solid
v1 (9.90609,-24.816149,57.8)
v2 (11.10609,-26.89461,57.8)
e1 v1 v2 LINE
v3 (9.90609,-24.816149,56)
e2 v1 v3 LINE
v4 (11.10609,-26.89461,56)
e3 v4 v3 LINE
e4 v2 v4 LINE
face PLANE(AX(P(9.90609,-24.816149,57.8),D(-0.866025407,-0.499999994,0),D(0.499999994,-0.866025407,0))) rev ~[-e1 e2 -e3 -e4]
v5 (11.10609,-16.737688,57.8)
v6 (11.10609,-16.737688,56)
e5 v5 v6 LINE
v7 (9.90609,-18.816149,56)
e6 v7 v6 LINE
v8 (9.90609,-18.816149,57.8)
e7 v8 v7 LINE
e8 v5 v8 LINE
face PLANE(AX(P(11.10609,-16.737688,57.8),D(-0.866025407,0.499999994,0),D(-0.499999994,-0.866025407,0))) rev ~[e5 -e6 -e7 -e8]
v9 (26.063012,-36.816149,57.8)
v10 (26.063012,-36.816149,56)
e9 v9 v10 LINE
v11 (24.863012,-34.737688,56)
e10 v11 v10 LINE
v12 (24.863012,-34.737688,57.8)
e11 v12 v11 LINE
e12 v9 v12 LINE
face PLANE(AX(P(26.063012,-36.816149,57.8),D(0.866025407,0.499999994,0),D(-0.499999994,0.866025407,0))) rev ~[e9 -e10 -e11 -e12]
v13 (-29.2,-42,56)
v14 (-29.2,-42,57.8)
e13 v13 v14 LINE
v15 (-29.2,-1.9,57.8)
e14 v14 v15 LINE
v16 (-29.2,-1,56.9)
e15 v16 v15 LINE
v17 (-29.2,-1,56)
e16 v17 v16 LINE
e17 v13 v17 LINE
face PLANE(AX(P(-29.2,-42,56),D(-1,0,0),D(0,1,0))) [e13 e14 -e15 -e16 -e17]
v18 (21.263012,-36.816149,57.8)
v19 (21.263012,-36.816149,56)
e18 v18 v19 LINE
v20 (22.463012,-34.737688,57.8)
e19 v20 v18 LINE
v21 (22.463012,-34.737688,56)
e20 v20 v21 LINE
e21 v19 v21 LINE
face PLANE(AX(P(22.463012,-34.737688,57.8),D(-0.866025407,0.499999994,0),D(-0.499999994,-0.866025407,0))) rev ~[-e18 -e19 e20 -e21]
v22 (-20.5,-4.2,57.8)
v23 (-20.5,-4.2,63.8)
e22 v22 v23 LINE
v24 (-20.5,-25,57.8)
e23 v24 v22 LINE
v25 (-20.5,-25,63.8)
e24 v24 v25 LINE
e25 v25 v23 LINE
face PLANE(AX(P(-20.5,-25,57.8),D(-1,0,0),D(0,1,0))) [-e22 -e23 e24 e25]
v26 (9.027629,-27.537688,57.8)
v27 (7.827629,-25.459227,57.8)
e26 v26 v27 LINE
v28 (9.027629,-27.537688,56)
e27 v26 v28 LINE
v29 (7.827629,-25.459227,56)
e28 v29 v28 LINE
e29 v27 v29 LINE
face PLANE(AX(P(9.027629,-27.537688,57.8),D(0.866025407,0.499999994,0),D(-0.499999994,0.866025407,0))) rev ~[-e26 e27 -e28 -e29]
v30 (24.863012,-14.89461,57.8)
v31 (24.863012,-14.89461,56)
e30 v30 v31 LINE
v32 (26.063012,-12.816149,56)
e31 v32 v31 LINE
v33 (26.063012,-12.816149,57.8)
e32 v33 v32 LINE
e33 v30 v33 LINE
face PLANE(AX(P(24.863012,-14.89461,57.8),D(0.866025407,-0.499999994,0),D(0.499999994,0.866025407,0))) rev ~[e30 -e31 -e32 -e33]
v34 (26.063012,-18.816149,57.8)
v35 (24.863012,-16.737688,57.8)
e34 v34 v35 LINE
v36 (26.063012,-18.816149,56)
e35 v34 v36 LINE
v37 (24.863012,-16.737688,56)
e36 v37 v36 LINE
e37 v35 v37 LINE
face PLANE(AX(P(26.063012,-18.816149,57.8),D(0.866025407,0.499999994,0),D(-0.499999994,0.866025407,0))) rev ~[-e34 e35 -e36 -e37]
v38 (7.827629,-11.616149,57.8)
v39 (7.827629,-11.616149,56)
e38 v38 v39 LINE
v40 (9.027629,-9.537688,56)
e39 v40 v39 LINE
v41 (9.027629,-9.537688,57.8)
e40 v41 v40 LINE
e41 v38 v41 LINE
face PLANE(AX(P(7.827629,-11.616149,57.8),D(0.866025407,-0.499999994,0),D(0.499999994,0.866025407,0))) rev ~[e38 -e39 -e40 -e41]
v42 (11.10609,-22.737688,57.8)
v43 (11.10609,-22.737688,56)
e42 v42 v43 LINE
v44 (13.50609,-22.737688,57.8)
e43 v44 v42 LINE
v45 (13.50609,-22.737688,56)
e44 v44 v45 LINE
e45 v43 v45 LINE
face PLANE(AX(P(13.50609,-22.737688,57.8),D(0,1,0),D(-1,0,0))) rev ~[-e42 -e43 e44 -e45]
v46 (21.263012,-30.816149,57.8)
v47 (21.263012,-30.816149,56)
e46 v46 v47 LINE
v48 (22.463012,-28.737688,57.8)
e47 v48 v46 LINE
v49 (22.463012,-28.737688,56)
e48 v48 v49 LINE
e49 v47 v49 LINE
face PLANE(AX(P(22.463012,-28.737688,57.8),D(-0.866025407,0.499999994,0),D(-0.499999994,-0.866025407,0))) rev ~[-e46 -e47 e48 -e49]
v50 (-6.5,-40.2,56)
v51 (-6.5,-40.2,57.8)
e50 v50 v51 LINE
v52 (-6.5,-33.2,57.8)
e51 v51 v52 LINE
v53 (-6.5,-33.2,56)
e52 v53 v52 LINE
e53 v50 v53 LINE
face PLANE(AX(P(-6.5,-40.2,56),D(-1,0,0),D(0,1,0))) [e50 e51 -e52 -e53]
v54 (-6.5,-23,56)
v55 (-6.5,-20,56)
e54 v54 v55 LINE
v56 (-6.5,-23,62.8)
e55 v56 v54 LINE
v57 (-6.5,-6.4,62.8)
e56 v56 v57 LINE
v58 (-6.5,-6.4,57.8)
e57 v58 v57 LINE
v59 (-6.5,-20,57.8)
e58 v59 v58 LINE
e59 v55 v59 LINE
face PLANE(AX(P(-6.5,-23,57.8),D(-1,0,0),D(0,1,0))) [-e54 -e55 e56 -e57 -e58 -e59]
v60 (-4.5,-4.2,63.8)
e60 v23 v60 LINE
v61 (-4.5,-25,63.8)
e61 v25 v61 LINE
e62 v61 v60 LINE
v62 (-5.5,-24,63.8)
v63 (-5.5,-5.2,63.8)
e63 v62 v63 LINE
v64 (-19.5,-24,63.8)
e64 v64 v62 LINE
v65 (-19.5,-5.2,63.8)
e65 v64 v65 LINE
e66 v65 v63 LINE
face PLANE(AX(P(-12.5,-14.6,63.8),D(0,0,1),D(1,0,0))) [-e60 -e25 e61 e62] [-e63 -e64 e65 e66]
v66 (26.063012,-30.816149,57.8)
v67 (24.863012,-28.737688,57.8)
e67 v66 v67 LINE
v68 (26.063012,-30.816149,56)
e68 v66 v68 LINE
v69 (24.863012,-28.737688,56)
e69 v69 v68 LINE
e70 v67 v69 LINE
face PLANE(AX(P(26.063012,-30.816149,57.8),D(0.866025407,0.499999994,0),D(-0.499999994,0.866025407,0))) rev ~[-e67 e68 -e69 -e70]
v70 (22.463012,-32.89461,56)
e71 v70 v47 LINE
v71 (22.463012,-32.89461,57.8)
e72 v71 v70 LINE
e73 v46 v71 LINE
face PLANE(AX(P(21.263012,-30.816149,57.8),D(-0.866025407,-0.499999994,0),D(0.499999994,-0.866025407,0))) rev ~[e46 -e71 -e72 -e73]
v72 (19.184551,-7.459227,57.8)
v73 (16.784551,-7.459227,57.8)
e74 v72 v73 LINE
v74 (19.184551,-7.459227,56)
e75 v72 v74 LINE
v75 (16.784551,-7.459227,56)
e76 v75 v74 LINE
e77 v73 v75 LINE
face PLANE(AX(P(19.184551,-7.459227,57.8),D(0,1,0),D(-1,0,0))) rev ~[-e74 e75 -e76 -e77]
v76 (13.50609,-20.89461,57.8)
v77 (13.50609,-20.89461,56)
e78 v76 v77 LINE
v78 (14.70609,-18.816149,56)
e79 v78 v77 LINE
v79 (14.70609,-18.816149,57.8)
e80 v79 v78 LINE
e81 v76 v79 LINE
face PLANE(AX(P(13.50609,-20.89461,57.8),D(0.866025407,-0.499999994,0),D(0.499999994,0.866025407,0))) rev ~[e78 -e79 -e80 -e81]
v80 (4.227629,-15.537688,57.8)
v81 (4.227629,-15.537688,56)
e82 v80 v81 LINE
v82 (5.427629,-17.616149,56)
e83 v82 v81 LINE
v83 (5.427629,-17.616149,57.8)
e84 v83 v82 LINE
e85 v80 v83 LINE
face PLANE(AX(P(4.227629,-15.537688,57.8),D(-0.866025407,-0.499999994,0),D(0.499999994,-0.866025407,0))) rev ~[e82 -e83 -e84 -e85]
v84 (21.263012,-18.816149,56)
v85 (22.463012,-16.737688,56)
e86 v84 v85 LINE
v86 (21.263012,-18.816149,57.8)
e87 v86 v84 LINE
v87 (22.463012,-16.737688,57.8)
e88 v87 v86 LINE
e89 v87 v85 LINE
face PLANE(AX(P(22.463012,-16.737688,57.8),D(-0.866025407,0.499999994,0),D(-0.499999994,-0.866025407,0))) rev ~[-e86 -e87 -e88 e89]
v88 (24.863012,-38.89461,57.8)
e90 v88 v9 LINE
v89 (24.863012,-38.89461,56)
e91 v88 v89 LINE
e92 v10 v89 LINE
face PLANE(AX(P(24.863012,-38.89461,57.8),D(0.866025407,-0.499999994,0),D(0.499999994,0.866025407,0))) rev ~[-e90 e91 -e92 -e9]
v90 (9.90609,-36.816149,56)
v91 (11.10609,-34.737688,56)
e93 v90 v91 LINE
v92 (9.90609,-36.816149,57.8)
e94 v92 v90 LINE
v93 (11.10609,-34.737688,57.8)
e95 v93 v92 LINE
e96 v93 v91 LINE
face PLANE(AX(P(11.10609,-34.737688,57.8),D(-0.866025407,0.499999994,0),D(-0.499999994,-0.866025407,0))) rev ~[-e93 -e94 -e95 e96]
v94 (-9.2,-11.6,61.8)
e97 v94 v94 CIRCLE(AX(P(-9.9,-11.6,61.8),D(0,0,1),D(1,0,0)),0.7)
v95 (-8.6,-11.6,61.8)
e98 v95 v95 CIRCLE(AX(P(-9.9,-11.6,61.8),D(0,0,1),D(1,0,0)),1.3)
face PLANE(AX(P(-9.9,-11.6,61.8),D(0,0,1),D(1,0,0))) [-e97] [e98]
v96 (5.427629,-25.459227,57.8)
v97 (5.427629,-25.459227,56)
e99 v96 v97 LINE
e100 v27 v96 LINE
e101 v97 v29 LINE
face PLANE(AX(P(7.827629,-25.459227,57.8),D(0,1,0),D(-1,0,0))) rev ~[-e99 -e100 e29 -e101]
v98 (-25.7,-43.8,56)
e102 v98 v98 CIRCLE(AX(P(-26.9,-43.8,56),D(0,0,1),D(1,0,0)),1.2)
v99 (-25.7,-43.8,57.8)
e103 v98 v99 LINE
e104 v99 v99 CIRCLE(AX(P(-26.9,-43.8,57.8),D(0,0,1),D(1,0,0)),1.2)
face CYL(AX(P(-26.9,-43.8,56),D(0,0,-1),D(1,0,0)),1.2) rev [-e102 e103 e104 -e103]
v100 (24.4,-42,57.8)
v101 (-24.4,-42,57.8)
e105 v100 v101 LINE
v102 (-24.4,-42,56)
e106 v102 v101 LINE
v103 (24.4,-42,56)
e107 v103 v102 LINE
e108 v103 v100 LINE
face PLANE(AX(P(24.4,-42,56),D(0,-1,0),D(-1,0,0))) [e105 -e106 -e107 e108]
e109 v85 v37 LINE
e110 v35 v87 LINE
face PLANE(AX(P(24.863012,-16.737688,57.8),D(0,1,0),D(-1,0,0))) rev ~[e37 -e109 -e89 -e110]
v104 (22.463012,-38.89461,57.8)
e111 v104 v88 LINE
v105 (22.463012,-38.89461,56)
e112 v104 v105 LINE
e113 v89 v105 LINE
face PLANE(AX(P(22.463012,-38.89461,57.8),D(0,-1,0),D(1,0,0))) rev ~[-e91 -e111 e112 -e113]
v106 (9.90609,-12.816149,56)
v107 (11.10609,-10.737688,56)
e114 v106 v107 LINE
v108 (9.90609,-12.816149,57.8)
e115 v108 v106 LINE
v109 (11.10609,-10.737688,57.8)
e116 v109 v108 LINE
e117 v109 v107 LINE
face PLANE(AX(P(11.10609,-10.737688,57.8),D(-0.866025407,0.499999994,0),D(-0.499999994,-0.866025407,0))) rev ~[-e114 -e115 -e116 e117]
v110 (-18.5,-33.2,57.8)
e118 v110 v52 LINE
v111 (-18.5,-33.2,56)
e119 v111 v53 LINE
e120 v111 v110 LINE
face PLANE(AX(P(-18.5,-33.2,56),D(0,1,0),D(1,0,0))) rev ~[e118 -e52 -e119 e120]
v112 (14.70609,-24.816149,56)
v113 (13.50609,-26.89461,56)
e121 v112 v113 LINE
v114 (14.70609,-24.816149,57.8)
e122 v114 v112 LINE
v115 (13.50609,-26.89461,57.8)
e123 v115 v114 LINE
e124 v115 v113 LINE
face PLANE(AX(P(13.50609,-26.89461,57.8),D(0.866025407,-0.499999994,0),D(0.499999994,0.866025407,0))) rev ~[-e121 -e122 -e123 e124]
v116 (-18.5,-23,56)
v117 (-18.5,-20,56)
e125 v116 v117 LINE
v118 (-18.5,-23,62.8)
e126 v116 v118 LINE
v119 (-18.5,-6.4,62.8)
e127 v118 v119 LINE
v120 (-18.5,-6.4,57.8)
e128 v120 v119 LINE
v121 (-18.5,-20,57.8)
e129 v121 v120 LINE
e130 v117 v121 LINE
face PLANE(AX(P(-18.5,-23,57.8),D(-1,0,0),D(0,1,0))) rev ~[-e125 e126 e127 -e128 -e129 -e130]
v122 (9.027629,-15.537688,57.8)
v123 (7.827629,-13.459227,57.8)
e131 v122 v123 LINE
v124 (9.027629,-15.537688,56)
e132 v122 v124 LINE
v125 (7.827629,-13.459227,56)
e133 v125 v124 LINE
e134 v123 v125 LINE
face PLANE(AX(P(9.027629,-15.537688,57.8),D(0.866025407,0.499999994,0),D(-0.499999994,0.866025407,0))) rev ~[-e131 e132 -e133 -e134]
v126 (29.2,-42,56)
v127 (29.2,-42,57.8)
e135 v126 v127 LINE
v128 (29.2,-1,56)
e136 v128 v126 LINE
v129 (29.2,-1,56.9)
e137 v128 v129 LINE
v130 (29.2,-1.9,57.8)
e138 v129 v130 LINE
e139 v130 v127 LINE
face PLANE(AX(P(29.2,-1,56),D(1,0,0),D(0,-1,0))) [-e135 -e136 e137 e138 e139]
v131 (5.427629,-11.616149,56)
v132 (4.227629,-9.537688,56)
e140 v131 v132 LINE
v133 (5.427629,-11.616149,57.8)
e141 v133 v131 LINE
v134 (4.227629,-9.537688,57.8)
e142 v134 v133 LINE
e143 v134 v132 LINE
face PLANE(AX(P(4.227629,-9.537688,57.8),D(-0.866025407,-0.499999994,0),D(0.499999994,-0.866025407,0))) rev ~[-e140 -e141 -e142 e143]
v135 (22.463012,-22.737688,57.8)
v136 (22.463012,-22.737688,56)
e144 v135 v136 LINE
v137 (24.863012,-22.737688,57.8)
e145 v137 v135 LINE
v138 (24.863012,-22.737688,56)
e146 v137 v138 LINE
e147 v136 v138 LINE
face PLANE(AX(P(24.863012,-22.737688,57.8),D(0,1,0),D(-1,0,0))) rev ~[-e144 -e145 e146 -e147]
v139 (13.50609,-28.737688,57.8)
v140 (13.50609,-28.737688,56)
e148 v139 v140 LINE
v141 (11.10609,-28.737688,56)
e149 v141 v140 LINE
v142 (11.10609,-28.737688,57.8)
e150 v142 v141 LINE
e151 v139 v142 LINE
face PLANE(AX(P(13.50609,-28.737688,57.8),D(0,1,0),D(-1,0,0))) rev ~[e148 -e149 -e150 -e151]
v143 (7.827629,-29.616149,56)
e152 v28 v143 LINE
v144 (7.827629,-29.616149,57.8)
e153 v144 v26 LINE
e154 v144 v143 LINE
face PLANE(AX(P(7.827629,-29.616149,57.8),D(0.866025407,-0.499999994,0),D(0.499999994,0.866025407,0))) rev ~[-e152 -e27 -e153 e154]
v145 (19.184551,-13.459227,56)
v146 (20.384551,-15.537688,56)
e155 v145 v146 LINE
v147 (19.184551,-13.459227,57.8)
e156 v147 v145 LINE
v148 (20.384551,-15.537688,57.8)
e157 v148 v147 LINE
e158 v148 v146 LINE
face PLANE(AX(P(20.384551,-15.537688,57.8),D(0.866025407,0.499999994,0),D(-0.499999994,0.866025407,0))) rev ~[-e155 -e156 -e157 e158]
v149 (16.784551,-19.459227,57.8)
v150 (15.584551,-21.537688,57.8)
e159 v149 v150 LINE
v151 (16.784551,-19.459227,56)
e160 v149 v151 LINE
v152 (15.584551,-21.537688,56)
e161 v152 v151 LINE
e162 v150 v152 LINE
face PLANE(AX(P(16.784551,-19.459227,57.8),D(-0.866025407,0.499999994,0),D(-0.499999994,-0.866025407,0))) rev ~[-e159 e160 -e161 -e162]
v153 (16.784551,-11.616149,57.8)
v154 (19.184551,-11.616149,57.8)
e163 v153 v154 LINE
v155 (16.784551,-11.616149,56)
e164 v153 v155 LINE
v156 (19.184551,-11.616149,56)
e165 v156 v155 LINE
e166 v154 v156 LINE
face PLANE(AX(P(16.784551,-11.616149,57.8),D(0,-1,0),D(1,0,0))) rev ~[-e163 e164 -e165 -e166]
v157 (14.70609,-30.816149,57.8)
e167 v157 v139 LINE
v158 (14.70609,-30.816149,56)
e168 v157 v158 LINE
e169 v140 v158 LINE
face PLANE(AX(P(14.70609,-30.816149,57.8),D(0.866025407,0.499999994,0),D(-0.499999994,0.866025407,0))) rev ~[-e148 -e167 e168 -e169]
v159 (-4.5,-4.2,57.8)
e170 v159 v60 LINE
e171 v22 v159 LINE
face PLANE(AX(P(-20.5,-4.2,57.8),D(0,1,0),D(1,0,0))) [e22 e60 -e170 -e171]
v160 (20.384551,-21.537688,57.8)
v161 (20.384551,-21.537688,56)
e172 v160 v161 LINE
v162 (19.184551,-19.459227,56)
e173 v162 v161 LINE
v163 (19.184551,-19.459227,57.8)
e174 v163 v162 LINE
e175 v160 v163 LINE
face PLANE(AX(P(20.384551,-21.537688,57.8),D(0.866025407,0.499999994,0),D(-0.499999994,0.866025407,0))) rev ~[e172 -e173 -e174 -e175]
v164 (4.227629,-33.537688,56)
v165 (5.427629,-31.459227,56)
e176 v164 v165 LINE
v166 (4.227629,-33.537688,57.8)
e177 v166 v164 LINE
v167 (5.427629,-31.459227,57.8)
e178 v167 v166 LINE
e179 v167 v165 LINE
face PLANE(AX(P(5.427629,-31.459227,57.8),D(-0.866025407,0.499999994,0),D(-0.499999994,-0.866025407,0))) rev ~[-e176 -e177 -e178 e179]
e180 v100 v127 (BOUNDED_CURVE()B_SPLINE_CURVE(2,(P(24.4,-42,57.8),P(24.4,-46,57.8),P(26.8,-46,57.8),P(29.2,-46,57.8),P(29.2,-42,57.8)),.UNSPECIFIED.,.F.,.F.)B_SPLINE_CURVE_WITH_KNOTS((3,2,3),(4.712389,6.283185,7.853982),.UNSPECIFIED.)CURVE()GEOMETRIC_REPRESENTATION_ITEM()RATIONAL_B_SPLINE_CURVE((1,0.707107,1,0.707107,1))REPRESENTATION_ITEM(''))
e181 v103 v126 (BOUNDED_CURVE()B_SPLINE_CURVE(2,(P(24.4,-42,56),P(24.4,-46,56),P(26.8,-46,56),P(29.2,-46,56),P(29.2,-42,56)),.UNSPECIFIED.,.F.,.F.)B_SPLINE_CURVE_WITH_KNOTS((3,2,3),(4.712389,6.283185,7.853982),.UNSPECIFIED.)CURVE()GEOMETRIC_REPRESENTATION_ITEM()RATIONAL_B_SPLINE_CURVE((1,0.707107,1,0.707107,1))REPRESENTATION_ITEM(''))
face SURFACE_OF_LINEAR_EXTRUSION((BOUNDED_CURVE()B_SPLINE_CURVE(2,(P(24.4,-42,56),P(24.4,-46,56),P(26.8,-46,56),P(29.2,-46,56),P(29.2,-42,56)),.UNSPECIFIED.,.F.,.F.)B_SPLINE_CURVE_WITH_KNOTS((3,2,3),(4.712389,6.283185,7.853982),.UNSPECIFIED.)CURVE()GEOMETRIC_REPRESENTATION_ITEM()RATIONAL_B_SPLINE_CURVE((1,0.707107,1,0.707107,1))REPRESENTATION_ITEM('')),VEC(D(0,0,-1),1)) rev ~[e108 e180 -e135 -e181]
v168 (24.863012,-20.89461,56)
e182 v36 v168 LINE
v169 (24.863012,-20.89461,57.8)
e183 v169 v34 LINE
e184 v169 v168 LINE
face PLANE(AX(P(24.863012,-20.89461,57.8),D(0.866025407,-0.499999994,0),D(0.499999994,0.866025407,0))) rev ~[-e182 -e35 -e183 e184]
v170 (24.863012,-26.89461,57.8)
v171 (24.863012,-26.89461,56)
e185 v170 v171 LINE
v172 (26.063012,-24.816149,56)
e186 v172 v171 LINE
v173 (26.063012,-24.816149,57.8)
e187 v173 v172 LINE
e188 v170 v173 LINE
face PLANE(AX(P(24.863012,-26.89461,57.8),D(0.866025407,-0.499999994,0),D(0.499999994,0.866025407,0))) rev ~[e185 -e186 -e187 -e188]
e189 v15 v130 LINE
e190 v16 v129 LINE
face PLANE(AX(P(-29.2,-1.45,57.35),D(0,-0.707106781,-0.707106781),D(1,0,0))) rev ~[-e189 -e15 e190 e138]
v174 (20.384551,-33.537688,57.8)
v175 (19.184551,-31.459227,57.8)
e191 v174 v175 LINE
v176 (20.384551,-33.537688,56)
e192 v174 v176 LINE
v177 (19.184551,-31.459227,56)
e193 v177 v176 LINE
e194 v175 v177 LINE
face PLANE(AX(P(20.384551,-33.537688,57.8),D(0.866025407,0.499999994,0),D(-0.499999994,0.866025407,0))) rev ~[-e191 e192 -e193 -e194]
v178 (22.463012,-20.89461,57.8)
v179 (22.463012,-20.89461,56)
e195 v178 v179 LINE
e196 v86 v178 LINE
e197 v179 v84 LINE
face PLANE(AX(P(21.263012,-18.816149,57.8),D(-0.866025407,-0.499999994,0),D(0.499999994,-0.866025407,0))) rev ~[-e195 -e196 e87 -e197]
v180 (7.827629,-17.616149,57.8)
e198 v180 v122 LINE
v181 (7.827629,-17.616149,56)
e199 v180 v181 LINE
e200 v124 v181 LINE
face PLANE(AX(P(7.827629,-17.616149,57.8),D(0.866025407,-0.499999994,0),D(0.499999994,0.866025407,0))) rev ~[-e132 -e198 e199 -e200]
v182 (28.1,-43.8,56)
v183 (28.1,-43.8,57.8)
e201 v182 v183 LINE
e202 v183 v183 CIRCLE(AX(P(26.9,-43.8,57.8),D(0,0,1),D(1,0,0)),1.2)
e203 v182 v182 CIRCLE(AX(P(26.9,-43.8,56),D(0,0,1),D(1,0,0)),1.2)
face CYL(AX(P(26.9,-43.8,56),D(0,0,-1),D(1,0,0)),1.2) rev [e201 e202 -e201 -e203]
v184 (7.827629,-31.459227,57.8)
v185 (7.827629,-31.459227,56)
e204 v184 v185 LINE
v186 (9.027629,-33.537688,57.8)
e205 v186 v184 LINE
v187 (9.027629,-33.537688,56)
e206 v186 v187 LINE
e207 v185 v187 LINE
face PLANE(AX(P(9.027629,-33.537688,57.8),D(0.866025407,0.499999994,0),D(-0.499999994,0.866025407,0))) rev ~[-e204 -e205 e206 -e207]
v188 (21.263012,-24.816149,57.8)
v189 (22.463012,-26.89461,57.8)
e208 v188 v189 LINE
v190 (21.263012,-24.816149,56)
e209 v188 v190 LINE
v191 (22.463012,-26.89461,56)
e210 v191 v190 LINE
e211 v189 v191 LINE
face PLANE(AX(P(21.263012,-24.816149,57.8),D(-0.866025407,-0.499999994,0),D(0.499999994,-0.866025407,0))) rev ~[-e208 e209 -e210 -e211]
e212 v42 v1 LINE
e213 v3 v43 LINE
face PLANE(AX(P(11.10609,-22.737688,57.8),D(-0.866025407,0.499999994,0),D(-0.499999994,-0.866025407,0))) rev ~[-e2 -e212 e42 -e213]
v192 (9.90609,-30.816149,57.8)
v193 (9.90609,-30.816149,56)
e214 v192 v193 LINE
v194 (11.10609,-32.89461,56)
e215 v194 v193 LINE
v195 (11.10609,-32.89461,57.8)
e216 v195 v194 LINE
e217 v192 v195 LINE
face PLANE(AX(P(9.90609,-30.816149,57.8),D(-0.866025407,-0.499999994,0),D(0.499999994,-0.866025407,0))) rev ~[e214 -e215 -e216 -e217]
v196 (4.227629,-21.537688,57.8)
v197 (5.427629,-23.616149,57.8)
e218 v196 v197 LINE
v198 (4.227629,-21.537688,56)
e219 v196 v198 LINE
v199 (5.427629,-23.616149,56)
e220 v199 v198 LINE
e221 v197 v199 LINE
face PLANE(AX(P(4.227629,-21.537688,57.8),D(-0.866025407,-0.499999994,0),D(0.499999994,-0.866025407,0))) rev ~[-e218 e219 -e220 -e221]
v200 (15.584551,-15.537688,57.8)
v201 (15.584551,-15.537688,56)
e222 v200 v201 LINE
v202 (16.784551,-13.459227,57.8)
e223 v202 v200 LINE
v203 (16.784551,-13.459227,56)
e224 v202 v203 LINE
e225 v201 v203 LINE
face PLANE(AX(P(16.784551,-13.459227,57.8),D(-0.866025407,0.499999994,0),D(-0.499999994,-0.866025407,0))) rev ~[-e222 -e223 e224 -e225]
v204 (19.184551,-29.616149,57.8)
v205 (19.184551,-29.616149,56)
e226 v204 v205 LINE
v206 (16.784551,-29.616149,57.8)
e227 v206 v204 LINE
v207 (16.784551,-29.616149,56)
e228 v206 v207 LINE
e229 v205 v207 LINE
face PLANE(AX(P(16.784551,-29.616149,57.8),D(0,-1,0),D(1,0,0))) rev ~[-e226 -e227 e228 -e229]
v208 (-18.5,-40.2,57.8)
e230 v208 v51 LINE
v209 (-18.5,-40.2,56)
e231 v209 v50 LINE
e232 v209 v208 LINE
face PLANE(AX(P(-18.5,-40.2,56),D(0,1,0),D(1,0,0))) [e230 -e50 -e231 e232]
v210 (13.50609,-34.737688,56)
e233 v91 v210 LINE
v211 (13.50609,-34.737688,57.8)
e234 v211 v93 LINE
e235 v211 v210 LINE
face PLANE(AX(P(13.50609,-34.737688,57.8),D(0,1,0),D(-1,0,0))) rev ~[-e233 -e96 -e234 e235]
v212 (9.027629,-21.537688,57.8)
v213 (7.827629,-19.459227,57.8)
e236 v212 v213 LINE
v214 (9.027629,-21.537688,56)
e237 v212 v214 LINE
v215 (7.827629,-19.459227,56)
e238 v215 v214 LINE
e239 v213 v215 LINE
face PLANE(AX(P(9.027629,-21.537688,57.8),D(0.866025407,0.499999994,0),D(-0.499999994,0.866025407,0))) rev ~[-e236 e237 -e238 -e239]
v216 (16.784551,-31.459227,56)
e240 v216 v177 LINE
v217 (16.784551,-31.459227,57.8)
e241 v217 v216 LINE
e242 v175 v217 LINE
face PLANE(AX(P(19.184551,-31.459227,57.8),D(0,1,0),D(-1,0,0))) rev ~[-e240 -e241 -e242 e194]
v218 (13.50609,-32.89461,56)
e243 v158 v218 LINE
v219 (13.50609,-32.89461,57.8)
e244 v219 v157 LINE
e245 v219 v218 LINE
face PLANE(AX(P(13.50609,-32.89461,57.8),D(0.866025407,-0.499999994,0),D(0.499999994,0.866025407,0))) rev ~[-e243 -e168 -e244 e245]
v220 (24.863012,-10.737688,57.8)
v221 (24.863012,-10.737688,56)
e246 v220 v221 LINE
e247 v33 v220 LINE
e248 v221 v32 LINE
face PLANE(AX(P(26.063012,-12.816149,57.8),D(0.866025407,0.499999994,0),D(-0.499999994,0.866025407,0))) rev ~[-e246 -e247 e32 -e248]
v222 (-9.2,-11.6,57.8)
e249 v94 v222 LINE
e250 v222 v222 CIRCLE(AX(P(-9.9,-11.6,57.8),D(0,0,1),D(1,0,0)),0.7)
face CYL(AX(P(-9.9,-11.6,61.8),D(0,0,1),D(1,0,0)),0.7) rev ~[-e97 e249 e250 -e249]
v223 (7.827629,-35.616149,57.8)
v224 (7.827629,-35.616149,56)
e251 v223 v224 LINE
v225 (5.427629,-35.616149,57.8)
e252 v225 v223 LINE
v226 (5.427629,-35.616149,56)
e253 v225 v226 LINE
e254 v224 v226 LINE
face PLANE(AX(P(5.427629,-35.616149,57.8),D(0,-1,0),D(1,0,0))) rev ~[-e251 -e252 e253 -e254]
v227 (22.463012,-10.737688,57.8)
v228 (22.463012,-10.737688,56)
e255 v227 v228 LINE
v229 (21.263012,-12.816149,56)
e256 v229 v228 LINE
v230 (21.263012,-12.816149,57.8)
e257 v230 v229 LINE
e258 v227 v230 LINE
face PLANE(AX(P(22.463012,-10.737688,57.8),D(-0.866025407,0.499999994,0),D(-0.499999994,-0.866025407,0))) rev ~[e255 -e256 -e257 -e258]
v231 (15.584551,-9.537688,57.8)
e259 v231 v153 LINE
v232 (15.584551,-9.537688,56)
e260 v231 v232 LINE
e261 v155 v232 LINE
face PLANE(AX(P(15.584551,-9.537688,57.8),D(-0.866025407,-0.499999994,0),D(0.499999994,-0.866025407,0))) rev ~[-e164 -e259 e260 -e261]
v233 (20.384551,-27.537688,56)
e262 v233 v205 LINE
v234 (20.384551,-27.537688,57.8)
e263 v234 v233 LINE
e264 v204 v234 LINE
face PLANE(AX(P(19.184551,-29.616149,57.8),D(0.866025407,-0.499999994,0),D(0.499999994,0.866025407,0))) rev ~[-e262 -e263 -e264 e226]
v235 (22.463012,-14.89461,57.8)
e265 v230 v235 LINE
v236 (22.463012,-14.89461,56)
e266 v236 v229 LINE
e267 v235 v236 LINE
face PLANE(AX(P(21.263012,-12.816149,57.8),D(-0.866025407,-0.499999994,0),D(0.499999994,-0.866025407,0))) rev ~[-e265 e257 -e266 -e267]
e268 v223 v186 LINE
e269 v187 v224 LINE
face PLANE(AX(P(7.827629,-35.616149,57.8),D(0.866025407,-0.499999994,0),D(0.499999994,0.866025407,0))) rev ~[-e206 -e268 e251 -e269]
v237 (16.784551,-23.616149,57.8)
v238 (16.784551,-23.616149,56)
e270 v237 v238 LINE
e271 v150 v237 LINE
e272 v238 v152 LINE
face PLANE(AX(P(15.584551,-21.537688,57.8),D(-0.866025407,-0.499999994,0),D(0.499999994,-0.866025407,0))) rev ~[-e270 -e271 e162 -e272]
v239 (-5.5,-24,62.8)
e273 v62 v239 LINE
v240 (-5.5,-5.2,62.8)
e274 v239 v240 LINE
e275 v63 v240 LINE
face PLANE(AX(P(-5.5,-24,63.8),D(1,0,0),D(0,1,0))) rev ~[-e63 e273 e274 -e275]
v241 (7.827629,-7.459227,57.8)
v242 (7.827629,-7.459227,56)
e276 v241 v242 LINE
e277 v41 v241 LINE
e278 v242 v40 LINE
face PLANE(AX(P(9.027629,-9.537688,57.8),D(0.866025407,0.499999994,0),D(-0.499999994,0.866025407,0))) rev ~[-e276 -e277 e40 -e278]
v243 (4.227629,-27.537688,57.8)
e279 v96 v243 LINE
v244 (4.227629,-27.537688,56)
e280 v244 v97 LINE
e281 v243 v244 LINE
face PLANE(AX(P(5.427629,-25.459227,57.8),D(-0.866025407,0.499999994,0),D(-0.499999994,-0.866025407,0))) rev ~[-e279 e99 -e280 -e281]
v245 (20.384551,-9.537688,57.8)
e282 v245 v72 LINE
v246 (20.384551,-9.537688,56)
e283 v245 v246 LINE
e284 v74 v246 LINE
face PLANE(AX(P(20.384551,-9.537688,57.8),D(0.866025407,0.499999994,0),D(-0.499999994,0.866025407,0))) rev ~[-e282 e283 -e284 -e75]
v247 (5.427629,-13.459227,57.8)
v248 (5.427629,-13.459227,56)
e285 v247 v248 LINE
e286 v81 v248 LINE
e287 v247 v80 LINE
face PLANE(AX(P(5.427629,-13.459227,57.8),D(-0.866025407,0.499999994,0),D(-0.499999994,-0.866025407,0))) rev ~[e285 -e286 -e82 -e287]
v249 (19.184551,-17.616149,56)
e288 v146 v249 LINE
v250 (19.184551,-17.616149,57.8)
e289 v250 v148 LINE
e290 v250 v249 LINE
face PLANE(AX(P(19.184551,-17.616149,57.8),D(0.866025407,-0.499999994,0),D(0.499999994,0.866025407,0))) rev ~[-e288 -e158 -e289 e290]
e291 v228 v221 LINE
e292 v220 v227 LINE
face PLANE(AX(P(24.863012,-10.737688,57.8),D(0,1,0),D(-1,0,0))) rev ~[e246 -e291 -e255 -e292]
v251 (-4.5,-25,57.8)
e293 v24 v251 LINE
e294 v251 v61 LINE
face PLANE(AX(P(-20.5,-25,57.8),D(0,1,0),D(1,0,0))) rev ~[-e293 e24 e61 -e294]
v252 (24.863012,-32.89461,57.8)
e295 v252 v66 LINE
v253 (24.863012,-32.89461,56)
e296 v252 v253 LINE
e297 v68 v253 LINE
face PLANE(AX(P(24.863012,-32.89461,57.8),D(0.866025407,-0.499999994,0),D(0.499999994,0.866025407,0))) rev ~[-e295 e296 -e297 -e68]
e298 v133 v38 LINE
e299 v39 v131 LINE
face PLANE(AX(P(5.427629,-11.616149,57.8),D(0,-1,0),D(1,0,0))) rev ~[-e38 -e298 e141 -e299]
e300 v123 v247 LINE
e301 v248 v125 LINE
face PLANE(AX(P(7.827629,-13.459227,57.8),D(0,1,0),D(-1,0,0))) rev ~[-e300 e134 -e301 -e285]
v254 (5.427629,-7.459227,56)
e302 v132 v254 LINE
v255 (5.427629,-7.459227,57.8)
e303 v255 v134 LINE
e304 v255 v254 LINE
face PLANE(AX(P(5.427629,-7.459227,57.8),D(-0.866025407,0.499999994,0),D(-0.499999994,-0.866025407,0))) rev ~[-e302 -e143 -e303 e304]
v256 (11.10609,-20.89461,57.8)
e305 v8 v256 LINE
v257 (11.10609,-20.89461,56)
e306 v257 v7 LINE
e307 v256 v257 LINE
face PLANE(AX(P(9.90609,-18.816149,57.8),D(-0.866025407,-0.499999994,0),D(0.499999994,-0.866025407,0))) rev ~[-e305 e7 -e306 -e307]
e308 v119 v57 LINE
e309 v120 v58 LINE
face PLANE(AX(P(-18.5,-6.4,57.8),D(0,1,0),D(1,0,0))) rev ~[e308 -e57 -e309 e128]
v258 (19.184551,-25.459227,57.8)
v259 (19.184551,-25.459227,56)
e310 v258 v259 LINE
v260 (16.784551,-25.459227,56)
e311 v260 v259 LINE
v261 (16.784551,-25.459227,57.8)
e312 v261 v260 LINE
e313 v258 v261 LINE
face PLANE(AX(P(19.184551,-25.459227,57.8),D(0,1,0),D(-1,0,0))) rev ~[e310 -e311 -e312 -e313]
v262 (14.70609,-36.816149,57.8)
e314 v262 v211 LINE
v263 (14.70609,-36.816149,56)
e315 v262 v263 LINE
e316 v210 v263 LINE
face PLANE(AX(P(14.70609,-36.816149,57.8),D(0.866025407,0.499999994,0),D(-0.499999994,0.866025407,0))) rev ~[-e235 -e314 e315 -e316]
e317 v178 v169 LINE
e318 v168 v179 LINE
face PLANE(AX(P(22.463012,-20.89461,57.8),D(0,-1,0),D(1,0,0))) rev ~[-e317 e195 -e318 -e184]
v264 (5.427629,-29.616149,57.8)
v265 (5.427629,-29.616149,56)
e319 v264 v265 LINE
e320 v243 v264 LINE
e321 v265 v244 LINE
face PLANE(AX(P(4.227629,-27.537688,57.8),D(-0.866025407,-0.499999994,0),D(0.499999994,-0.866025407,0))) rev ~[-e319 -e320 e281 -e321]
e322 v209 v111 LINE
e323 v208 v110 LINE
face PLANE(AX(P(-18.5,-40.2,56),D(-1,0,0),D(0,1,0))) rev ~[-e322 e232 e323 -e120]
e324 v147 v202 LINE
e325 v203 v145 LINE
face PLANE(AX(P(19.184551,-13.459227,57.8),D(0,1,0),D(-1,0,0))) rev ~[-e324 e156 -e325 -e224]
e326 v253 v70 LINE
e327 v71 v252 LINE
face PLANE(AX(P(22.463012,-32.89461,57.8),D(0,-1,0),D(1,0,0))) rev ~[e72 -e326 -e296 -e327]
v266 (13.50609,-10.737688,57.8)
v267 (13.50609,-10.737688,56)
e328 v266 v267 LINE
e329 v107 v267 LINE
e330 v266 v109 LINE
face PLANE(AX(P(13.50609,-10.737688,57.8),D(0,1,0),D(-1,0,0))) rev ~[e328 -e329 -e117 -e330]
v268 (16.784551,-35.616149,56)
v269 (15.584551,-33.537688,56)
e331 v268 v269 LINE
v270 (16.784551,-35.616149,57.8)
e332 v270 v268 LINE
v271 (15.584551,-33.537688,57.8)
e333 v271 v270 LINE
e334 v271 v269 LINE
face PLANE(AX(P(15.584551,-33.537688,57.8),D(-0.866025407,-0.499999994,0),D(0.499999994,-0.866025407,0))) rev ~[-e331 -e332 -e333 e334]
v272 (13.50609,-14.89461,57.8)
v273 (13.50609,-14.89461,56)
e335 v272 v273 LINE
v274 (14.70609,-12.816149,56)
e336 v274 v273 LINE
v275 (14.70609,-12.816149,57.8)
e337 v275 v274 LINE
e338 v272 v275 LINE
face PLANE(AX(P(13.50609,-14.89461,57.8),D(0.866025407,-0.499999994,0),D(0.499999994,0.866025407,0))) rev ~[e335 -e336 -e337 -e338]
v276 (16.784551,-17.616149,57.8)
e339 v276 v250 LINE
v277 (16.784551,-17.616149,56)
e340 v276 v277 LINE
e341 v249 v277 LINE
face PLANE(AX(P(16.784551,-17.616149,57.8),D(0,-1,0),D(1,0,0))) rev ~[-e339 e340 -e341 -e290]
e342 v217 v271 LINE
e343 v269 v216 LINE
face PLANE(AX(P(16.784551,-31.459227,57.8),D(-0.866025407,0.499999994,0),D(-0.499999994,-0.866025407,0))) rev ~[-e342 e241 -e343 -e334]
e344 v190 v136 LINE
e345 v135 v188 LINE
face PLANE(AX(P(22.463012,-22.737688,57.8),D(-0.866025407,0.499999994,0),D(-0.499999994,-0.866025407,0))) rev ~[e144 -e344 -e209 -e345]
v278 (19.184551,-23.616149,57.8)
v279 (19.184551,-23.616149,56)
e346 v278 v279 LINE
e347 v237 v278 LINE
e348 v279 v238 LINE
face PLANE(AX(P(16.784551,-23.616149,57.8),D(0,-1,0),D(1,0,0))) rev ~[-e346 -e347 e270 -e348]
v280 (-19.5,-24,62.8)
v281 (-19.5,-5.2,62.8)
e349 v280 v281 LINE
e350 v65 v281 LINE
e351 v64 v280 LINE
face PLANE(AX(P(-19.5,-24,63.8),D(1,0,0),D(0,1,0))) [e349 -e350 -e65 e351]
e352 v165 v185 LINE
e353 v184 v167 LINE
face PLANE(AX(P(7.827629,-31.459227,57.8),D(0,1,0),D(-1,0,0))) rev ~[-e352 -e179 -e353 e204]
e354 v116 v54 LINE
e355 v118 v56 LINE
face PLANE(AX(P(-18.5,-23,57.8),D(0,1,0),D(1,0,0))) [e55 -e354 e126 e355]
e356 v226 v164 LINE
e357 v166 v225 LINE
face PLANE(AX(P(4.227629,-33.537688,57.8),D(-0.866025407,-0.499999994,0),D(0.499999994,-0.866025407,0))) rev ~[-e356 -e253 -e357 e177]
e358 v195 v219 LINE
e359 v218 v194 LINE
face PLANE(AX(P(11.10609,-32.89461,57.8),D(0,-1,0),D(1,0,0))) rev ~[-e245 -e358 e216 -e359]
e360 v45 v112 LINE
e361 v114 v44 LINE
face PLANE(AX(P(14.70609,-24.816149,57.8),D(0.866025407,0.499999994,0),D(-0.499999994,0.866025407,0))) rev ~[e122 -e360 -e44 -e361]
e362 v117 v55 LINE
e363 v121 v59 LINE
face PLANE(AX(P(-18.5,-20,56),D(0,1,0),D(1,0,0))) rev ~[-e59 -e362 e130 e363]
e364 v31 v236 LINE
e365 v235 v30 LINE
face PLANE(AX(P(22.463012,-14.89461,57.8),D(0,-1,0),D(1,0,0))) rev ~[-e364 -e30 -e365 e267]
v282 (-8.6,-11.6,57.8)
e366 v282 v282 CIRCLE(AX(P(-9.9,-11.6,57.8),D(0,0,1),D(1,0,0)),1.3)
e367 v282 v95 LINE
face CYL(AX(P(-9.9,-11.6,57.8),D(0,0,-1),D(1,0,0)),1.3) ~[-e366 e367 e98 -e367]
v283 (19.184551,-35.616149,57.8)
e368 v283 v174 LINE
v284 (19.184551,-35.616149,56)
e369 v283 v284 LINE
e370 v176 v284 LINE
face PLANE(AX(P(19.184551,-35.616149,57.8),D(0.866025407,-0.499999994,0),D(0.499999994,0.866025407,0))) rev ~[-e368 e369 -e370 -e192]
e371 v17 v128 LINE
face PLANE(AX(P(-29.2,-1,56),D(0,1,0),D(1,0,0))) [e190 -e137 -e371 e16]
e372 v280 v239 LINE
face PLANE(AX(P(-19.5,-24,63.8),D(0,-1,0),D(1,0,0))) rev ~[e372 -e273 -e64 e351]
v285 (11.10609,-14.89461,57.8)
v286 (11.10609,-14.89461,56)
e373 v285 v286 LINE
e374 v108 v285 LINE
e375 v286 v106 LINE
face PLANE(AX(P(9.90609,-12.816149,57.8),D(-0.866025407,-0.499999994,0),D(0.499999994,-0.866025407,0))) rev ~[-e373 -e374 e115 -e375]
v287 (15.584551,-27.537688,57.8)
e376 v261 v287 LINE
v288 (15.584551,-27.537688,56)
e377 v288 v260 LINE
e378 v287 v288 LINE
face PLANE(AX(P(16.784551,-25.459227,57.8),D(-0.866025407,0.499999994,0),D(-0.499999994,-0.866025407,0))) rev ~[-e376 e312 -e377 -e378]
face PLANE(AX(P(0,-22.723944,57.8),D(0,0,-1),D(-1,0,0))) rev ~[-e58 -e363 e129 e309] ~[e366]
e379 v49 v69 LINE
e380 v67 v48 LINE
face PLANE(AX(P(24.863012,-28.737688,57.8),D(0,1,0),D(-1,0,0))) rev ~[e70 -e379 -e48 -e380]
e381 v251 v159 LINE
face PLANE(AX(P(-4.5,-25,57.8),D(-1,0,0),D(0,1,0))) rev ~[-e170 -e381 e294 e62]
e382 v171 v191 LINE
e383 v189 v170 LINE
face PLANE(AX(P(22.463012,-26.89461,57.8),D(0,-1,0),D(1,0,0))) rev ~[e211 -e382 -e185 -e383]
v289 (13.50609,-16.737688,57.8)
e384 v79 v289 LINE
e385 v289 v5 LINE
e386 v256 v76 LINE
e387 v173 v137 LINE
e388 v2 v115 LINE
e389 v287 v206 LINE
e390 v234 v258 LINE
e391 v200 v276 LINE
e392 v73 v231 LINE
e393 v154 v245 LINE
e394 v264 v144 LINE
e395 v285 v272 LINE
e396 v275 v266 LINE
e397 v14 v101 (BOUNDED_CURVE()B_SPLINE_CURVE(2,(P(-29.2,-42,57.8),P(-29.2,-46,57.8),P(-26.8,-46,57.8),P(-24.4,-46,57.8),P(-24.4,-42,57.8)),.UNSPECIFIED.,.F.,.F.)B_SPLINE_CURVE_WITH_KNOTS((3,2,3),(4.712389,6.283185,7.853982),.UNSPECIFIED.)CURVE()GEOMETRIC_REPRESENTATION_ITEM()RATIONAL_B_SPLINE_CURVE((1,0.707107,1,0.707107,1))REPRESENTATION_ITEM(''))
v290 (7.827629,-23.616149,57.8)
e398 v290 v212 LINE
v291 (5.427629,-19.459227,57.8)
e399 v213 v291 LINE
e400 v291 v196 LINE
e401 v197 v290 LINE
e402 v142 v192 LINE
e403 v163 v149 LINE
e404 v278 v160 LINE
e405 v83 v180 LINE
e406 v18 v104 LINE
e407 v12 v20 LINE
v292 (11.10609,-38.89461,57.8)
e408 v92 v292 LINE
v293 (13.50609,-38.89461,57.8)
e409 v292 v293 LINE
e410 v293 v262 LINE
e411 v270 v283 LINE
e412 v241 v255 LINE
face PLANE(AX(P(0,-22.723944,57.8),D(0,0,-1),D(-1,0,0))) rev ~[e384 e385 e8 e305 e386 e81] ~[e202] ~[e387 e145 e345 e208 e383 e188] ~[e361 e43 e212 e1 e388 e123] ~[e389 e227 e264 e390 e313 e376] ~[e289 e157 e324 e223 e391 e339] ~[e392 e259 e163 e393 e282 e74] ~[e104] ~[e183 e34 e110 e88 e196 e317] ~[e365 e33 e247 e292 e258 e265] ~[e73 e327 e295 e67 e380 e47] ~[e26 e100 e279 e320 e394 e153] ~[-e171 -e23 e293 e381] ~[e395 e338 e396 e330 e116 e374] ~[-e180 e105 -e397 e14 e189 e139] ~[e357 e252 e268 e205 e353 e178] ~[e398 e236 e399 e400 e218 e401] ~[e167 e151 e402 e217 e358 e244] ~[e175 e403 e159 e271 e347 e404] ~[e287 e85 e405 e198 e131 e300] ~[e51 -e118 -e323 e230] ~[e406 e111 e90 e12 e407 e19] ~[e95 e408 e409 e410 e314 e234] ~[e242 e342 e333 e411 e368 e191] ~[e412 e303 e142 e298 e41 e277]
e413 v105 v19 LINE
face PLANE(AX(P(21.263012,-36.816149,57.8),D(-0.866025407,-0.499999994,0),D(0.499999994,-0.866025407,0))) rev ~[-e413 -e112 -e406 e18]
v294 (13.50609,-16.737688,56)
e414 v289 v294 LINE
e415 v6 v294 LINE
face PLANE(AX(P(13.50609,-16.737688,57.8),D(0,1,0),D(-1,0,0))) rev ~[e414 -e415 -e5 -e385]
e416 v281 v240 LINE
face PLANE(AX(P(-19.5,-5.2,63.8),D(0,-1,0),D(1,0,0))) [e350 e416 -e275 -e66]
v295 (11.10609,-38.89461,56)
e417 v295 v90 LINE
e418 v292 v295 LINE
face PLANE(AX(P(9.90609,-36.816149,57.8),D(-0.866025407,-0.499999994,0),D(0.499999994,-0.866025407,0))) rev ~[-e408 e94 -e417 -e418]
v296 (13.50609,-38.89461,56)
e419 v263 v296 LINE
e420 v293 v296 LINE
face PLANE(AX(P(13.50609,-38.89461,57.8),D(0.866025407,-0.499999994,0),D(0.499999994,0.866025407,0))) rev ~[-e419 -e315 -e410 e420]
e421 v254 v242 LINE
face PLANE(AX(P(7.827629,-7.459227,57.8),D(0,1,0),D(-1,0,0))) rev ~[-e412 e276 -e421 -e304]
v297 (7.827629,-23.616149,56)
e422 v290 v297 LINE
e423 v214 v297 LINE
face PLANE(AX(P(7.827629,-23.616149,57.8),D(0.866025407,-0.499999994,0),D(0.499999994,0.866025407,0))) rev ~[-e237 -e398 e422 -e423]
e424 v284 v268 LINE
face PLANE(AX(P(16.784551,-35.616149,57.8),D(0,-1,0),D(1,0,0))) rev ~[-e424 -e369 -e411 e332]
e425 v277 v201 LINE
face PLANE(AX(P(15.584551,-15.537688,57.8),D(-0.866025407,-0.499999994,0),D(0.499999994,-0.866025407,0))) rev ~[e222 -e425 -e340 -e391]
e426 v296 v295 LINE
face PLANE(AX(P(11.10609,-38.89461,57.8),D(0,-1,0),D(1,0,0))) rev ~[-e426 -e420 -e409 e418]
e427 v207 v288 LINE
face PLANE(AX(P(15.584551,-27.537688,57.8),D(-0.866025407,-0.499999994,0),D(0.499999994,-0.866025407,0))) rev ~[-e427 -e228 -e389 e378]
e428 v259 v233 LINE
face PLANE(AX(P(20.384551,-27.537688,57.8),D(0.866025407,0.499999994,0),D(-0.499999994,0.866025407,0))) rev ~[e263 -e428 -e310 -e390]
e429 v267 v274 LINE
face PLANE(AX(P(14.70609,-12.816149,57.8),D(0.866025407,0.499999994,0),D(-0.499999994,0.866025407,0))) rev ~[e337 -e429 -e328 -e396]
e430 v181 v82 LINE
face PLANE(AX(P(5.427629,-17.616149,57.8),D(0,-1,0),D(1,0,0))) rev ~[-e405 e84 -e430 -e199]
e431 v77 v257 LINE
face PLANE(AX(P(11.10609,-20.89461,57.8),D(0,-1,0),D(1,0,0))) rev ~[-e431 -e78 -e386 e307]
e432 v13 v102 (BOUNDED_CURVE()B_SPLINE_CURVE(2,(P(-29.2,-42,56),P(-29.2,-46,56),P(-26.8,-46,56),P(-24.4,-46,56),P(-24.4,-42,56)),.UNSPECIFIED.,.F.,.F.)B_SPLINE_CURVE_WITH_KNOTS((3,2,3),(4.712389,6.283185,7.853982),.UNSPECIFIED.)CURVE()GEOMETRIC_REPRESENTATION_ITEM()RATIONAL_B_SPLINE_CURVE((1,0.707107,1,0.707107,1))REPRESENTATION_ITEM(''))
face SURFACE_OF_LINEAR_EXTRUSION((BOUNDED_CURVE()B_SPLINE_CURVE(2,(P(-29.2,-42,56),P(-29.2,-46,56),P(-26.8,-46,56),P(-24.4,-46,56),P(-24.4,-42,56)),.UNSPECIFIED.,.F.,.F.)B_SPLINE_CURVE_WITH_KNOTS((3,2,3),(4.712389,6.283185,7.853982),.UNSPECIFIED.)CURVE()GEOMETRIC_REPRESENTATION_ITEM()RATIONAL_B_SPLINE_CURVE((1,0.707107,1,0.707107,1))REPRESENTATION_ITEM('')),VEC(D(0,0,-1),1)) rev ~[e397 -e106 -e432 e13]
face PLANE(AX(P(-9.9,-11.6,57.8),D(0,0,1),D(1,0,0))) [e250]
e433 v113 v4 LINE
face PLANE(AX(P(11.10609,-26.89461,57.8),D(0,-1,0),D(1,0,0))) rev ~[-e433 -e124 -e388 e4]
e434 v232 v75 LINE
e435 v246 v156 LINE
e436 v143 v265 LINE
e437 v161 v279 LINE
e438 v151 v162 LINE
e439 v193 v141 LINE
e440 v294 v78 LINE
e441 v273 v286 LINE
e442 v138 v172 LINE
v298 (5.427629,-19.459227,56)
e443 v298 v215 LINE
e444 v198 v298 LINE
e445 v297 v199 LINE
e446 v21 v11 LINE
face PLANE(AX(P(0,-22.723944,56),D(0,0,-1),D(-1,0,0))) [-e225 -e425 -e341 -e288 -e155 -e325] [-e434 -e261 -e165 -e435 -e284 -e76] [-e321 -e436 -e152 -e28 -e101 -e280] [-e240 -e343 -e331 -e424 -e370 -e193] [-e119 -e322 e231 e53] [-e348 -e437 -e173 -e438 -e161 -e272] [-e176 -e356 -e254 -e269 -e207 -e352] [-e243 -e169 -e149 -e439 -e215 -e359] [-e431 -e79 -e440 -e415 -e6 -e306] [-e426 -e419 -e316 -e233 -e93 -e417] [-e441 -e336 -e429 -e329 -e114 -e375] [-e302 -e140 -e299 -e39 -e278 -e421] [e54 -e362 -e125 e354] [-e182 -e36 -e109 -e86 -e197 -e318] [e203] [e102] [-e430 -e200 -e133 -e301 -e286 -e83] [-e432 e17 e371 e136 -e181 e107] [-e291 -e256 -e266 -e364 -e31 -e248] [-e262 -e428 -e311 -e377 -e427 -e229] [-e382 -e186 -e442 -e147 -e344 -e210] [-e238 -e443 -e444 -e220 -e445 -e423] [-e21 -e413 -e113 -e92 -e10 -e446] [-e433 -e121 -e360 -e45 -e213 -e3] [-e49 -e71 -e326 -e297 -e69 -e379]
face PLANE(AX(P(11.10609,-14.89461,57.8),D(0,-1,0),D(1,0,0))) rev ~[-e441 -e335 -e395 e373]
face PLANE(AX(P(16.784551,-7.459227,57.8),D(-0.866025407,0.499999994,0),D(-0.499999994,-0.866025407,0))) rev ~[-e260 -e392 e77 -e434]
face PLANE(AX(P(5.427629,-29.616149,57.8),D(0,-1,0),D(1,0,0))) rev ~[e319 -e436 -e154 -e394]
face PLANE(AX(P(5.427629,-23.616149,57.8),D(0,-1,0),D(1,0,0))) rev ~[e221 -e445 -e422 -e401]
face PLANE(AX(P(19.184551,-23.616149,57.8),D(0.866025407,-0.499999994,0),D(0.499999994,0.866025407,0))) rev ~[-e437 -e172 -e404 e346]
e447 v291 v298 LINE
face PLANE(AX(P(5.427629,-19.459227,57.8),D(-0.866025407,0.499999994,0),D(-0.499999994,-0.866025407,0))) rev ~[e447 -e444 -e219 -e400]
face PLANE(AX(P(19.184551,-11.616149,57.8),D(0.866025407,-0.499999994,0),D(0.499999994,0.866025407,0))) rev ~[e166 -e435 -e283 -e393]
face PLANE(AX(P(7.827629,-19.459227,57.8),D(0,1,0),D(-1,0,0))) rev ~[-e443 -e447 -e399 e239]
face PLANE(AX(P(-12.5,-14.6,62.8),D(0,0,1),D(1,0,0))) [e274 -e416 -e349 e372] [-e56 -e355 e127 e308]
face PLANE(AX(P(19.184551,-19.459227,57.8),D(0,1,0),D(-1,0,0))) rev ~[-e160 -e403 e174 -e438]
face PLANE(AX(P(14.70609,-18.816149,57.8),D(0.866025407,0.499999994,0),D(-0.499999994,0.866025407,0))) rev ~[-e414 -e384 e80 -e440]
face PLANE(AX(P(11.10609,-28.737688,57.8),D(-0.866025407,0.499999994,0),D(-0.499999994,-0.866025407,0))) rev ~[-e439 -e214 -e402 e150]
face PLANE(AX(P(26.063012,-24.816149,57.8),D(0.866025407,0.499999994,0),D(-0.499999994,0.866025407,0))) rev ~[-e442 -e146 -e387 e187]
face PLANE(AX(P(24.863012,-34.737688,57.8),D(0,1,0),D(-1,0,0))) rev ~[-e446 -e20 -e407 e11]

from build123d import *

# Parameters (mm, degrees)
SKETCH012_R         = 1.2
SKETCH012_W         = 12
SKETCH012_H         = 7
SKETCH012_H_2       = 3
PAD006_DEPTH        = 1.8
CHAMFER002_ANGLE    = 45
CHAMFER002_SIZE     = 0.9
POCKET_DEPTH        = 1.801
LINEARPATTERN_COUNT = 5
LINEARPATTERN_PITCH = 6
SKETCH015_W         = 16
SKETCH015_H         = 20.8
SKETCH015_W_2       = 12
SKETCH015_H_2       = 16.6
PAD007_DEPTH        = 6
SKETCH016_R         = 1.3
PAD008_DEPTH        = 4
SKETCH017_R         = 0.7
POCKET007_DEPTH     = 4
SKETCH018_W         = 14
SKETCH018_H         = 18.8
POCKET008_DEPTH     = 1


with BuildPart() as part:
    # Sketch012 → Pad006 (new body)
    with BuildSketch(Plane.XY.offset(56)):
        with BuildLine():
            Line((-29.2, -1), (29.2, -1))
            Line((29.2, -1), (29.2, -42))
            add(Edge.make_bspline(
                [(24.4, -42), (24.4, -46), (26.8, -46), (29.2, -46), (29.2, -42)],
                knots=[4.712389, 4.712389, 4.712389, 6.283185, 6.283185, 7.853982, 7.853982, 7.853982], degree=2, weights=[1, 0.707107, 1, 0.707107, 1]))
            Line((24.4, -42), (-24.4, -42))
            add(Edge.make_bspline(
                [(-29.2, -42), (-29.2, -46), (-26.8, -46), (-24.4, -46), (-24.4, -42)],
                knots=[4.712389, 4.712389, 4.712389, 6.283185, 6.283185, 7.853982, 7.853982, 7.853982], degree=2, weights=[1, 0.707107, 1, 0.707107, 1]))
            Line((-29.2, -42), (-29.2, -1))
        make_face()
        with Locations((-26.9, -43.8)):
            Circle(SKETCH012_R, mode=Mode.SUBTRACT)
        with Locations((26.9, -43.8)):
            Circle(SKETCH012_R, mode=Mode.SUBTRACT)
        with Locations((-12.5, -36.7)):
            Rectangle(SKETCH012_W, SKETCH012_H, mode=Mode.SUBTRACT)
        with Locations((-12.5, -21.5)):
            Rectangle(SKETCH012_W, SKETCH012_H_2, mode=Mode.SUBTRACT)
    extrude(amount=PAD006_DEPTH)

    # Chamfer002
    chamfer002_edges = [part.edges().sort_by_distance(p)[0] for p in [
        (0, -1, 57.8),
    ]]
    chamfer002_side = part.faces().sort_by_distance((0, -1, 56.9))[0]
    chamfer(chamfer002_edges, length=CHAMFER002_SIZE, angle=CHAMFER002_ANGLE, reference=chamfer002_side)

    # Sketch013 → Pocket (cut, through all)
    with BuildSketch(Plane.XY.offset(57.8)):
        Polygon((7.827629, -35.616149), (9.027629, -33.537688), (7.827629, -31.459227), (5.427629, -31.459227), (4.227629, -33.537688), (5.427629, -35.616149), align=None)
        Polygon((19.184551, -35.616149), (20.384551, -33.537688), (19.184551, -31.459227), (16.784551, -31.459227), (15.584551, -33.537688), (16.784551, -35.616149), align=None)
        Polygon((13.50609, -38.89461), (14.70609, -36.816149), (13.50609, -34.737688), (11.10609, -34.737688), (9.90609, -36.816149), (11.10609, -38.89461), align=None)
        Polygon((24.863012, -38.89461), (26.063012, -36.816149), (24.863012, -34.737688), (22.463012, -34.737688), (21.263012, -36.816149), (22.463012, -38.89461), align=None)
    pocket = extrude(amount=-POCKET_DEPTH, mode=Mode.SUBTRACT)

    # LinearPattern: Pocket ×5
    with Locations(*[(0, i * LINEARPATTERN_PITCH, 0) for i in range(1, LINEARPATTERN_COUNT)]):
        add(pocket, mode=Mode.SUBTRACT)

    # Sketch015 (on DatumPlane) → Pad007 (join)
    with BuildSketch(Plane.XY.offset(57.8)):
        with Locations((-12.5, -14.6)):
            Rectangle(SKETCH015_W, SKETCH015_H)
        with Locations((-12.5, -14.7)):
            Rectangle(SKETCH015_W_2, SKETCH015_H_2, mode=Mode.SUBTRACT)
    extrude(amount=PAD007_DEPTH)

    # Sketch016 (on DatumPlane) → Pad008 (join)
    with BuildSketch(Plane.XY.offset(57.8)):
        with Locations((-9.9, -11.6)):
            Circle(SKETCH016_R)
    extrude(amount=PAD008_DEPTH)

    # Sketch017 (on Face156 of Pocket008) → Pocket007 (cut)
    with BuildSketch(Plane.XY.offset(61.8)):
        with Locations((-9.9, -11.6)):
            Circle(SKETCH017_R)
    extrude(amount=-POCKET007_DEPTH, mode=Mode.SUBTRACT)

    # Sketch018 (on Face148 of Pocket007) → Pocket008 (cut)
    with BuildSketch(Plane.XY.offset(63.8)):
        with Locations((-12.5, -14.6)):
            Rectangle(SKETCH018_W, SKETCH018_H)
    extrude(amount=-POCKET008_DEPTH, mode=Mode.SUBTRACT)


solid = part.part
